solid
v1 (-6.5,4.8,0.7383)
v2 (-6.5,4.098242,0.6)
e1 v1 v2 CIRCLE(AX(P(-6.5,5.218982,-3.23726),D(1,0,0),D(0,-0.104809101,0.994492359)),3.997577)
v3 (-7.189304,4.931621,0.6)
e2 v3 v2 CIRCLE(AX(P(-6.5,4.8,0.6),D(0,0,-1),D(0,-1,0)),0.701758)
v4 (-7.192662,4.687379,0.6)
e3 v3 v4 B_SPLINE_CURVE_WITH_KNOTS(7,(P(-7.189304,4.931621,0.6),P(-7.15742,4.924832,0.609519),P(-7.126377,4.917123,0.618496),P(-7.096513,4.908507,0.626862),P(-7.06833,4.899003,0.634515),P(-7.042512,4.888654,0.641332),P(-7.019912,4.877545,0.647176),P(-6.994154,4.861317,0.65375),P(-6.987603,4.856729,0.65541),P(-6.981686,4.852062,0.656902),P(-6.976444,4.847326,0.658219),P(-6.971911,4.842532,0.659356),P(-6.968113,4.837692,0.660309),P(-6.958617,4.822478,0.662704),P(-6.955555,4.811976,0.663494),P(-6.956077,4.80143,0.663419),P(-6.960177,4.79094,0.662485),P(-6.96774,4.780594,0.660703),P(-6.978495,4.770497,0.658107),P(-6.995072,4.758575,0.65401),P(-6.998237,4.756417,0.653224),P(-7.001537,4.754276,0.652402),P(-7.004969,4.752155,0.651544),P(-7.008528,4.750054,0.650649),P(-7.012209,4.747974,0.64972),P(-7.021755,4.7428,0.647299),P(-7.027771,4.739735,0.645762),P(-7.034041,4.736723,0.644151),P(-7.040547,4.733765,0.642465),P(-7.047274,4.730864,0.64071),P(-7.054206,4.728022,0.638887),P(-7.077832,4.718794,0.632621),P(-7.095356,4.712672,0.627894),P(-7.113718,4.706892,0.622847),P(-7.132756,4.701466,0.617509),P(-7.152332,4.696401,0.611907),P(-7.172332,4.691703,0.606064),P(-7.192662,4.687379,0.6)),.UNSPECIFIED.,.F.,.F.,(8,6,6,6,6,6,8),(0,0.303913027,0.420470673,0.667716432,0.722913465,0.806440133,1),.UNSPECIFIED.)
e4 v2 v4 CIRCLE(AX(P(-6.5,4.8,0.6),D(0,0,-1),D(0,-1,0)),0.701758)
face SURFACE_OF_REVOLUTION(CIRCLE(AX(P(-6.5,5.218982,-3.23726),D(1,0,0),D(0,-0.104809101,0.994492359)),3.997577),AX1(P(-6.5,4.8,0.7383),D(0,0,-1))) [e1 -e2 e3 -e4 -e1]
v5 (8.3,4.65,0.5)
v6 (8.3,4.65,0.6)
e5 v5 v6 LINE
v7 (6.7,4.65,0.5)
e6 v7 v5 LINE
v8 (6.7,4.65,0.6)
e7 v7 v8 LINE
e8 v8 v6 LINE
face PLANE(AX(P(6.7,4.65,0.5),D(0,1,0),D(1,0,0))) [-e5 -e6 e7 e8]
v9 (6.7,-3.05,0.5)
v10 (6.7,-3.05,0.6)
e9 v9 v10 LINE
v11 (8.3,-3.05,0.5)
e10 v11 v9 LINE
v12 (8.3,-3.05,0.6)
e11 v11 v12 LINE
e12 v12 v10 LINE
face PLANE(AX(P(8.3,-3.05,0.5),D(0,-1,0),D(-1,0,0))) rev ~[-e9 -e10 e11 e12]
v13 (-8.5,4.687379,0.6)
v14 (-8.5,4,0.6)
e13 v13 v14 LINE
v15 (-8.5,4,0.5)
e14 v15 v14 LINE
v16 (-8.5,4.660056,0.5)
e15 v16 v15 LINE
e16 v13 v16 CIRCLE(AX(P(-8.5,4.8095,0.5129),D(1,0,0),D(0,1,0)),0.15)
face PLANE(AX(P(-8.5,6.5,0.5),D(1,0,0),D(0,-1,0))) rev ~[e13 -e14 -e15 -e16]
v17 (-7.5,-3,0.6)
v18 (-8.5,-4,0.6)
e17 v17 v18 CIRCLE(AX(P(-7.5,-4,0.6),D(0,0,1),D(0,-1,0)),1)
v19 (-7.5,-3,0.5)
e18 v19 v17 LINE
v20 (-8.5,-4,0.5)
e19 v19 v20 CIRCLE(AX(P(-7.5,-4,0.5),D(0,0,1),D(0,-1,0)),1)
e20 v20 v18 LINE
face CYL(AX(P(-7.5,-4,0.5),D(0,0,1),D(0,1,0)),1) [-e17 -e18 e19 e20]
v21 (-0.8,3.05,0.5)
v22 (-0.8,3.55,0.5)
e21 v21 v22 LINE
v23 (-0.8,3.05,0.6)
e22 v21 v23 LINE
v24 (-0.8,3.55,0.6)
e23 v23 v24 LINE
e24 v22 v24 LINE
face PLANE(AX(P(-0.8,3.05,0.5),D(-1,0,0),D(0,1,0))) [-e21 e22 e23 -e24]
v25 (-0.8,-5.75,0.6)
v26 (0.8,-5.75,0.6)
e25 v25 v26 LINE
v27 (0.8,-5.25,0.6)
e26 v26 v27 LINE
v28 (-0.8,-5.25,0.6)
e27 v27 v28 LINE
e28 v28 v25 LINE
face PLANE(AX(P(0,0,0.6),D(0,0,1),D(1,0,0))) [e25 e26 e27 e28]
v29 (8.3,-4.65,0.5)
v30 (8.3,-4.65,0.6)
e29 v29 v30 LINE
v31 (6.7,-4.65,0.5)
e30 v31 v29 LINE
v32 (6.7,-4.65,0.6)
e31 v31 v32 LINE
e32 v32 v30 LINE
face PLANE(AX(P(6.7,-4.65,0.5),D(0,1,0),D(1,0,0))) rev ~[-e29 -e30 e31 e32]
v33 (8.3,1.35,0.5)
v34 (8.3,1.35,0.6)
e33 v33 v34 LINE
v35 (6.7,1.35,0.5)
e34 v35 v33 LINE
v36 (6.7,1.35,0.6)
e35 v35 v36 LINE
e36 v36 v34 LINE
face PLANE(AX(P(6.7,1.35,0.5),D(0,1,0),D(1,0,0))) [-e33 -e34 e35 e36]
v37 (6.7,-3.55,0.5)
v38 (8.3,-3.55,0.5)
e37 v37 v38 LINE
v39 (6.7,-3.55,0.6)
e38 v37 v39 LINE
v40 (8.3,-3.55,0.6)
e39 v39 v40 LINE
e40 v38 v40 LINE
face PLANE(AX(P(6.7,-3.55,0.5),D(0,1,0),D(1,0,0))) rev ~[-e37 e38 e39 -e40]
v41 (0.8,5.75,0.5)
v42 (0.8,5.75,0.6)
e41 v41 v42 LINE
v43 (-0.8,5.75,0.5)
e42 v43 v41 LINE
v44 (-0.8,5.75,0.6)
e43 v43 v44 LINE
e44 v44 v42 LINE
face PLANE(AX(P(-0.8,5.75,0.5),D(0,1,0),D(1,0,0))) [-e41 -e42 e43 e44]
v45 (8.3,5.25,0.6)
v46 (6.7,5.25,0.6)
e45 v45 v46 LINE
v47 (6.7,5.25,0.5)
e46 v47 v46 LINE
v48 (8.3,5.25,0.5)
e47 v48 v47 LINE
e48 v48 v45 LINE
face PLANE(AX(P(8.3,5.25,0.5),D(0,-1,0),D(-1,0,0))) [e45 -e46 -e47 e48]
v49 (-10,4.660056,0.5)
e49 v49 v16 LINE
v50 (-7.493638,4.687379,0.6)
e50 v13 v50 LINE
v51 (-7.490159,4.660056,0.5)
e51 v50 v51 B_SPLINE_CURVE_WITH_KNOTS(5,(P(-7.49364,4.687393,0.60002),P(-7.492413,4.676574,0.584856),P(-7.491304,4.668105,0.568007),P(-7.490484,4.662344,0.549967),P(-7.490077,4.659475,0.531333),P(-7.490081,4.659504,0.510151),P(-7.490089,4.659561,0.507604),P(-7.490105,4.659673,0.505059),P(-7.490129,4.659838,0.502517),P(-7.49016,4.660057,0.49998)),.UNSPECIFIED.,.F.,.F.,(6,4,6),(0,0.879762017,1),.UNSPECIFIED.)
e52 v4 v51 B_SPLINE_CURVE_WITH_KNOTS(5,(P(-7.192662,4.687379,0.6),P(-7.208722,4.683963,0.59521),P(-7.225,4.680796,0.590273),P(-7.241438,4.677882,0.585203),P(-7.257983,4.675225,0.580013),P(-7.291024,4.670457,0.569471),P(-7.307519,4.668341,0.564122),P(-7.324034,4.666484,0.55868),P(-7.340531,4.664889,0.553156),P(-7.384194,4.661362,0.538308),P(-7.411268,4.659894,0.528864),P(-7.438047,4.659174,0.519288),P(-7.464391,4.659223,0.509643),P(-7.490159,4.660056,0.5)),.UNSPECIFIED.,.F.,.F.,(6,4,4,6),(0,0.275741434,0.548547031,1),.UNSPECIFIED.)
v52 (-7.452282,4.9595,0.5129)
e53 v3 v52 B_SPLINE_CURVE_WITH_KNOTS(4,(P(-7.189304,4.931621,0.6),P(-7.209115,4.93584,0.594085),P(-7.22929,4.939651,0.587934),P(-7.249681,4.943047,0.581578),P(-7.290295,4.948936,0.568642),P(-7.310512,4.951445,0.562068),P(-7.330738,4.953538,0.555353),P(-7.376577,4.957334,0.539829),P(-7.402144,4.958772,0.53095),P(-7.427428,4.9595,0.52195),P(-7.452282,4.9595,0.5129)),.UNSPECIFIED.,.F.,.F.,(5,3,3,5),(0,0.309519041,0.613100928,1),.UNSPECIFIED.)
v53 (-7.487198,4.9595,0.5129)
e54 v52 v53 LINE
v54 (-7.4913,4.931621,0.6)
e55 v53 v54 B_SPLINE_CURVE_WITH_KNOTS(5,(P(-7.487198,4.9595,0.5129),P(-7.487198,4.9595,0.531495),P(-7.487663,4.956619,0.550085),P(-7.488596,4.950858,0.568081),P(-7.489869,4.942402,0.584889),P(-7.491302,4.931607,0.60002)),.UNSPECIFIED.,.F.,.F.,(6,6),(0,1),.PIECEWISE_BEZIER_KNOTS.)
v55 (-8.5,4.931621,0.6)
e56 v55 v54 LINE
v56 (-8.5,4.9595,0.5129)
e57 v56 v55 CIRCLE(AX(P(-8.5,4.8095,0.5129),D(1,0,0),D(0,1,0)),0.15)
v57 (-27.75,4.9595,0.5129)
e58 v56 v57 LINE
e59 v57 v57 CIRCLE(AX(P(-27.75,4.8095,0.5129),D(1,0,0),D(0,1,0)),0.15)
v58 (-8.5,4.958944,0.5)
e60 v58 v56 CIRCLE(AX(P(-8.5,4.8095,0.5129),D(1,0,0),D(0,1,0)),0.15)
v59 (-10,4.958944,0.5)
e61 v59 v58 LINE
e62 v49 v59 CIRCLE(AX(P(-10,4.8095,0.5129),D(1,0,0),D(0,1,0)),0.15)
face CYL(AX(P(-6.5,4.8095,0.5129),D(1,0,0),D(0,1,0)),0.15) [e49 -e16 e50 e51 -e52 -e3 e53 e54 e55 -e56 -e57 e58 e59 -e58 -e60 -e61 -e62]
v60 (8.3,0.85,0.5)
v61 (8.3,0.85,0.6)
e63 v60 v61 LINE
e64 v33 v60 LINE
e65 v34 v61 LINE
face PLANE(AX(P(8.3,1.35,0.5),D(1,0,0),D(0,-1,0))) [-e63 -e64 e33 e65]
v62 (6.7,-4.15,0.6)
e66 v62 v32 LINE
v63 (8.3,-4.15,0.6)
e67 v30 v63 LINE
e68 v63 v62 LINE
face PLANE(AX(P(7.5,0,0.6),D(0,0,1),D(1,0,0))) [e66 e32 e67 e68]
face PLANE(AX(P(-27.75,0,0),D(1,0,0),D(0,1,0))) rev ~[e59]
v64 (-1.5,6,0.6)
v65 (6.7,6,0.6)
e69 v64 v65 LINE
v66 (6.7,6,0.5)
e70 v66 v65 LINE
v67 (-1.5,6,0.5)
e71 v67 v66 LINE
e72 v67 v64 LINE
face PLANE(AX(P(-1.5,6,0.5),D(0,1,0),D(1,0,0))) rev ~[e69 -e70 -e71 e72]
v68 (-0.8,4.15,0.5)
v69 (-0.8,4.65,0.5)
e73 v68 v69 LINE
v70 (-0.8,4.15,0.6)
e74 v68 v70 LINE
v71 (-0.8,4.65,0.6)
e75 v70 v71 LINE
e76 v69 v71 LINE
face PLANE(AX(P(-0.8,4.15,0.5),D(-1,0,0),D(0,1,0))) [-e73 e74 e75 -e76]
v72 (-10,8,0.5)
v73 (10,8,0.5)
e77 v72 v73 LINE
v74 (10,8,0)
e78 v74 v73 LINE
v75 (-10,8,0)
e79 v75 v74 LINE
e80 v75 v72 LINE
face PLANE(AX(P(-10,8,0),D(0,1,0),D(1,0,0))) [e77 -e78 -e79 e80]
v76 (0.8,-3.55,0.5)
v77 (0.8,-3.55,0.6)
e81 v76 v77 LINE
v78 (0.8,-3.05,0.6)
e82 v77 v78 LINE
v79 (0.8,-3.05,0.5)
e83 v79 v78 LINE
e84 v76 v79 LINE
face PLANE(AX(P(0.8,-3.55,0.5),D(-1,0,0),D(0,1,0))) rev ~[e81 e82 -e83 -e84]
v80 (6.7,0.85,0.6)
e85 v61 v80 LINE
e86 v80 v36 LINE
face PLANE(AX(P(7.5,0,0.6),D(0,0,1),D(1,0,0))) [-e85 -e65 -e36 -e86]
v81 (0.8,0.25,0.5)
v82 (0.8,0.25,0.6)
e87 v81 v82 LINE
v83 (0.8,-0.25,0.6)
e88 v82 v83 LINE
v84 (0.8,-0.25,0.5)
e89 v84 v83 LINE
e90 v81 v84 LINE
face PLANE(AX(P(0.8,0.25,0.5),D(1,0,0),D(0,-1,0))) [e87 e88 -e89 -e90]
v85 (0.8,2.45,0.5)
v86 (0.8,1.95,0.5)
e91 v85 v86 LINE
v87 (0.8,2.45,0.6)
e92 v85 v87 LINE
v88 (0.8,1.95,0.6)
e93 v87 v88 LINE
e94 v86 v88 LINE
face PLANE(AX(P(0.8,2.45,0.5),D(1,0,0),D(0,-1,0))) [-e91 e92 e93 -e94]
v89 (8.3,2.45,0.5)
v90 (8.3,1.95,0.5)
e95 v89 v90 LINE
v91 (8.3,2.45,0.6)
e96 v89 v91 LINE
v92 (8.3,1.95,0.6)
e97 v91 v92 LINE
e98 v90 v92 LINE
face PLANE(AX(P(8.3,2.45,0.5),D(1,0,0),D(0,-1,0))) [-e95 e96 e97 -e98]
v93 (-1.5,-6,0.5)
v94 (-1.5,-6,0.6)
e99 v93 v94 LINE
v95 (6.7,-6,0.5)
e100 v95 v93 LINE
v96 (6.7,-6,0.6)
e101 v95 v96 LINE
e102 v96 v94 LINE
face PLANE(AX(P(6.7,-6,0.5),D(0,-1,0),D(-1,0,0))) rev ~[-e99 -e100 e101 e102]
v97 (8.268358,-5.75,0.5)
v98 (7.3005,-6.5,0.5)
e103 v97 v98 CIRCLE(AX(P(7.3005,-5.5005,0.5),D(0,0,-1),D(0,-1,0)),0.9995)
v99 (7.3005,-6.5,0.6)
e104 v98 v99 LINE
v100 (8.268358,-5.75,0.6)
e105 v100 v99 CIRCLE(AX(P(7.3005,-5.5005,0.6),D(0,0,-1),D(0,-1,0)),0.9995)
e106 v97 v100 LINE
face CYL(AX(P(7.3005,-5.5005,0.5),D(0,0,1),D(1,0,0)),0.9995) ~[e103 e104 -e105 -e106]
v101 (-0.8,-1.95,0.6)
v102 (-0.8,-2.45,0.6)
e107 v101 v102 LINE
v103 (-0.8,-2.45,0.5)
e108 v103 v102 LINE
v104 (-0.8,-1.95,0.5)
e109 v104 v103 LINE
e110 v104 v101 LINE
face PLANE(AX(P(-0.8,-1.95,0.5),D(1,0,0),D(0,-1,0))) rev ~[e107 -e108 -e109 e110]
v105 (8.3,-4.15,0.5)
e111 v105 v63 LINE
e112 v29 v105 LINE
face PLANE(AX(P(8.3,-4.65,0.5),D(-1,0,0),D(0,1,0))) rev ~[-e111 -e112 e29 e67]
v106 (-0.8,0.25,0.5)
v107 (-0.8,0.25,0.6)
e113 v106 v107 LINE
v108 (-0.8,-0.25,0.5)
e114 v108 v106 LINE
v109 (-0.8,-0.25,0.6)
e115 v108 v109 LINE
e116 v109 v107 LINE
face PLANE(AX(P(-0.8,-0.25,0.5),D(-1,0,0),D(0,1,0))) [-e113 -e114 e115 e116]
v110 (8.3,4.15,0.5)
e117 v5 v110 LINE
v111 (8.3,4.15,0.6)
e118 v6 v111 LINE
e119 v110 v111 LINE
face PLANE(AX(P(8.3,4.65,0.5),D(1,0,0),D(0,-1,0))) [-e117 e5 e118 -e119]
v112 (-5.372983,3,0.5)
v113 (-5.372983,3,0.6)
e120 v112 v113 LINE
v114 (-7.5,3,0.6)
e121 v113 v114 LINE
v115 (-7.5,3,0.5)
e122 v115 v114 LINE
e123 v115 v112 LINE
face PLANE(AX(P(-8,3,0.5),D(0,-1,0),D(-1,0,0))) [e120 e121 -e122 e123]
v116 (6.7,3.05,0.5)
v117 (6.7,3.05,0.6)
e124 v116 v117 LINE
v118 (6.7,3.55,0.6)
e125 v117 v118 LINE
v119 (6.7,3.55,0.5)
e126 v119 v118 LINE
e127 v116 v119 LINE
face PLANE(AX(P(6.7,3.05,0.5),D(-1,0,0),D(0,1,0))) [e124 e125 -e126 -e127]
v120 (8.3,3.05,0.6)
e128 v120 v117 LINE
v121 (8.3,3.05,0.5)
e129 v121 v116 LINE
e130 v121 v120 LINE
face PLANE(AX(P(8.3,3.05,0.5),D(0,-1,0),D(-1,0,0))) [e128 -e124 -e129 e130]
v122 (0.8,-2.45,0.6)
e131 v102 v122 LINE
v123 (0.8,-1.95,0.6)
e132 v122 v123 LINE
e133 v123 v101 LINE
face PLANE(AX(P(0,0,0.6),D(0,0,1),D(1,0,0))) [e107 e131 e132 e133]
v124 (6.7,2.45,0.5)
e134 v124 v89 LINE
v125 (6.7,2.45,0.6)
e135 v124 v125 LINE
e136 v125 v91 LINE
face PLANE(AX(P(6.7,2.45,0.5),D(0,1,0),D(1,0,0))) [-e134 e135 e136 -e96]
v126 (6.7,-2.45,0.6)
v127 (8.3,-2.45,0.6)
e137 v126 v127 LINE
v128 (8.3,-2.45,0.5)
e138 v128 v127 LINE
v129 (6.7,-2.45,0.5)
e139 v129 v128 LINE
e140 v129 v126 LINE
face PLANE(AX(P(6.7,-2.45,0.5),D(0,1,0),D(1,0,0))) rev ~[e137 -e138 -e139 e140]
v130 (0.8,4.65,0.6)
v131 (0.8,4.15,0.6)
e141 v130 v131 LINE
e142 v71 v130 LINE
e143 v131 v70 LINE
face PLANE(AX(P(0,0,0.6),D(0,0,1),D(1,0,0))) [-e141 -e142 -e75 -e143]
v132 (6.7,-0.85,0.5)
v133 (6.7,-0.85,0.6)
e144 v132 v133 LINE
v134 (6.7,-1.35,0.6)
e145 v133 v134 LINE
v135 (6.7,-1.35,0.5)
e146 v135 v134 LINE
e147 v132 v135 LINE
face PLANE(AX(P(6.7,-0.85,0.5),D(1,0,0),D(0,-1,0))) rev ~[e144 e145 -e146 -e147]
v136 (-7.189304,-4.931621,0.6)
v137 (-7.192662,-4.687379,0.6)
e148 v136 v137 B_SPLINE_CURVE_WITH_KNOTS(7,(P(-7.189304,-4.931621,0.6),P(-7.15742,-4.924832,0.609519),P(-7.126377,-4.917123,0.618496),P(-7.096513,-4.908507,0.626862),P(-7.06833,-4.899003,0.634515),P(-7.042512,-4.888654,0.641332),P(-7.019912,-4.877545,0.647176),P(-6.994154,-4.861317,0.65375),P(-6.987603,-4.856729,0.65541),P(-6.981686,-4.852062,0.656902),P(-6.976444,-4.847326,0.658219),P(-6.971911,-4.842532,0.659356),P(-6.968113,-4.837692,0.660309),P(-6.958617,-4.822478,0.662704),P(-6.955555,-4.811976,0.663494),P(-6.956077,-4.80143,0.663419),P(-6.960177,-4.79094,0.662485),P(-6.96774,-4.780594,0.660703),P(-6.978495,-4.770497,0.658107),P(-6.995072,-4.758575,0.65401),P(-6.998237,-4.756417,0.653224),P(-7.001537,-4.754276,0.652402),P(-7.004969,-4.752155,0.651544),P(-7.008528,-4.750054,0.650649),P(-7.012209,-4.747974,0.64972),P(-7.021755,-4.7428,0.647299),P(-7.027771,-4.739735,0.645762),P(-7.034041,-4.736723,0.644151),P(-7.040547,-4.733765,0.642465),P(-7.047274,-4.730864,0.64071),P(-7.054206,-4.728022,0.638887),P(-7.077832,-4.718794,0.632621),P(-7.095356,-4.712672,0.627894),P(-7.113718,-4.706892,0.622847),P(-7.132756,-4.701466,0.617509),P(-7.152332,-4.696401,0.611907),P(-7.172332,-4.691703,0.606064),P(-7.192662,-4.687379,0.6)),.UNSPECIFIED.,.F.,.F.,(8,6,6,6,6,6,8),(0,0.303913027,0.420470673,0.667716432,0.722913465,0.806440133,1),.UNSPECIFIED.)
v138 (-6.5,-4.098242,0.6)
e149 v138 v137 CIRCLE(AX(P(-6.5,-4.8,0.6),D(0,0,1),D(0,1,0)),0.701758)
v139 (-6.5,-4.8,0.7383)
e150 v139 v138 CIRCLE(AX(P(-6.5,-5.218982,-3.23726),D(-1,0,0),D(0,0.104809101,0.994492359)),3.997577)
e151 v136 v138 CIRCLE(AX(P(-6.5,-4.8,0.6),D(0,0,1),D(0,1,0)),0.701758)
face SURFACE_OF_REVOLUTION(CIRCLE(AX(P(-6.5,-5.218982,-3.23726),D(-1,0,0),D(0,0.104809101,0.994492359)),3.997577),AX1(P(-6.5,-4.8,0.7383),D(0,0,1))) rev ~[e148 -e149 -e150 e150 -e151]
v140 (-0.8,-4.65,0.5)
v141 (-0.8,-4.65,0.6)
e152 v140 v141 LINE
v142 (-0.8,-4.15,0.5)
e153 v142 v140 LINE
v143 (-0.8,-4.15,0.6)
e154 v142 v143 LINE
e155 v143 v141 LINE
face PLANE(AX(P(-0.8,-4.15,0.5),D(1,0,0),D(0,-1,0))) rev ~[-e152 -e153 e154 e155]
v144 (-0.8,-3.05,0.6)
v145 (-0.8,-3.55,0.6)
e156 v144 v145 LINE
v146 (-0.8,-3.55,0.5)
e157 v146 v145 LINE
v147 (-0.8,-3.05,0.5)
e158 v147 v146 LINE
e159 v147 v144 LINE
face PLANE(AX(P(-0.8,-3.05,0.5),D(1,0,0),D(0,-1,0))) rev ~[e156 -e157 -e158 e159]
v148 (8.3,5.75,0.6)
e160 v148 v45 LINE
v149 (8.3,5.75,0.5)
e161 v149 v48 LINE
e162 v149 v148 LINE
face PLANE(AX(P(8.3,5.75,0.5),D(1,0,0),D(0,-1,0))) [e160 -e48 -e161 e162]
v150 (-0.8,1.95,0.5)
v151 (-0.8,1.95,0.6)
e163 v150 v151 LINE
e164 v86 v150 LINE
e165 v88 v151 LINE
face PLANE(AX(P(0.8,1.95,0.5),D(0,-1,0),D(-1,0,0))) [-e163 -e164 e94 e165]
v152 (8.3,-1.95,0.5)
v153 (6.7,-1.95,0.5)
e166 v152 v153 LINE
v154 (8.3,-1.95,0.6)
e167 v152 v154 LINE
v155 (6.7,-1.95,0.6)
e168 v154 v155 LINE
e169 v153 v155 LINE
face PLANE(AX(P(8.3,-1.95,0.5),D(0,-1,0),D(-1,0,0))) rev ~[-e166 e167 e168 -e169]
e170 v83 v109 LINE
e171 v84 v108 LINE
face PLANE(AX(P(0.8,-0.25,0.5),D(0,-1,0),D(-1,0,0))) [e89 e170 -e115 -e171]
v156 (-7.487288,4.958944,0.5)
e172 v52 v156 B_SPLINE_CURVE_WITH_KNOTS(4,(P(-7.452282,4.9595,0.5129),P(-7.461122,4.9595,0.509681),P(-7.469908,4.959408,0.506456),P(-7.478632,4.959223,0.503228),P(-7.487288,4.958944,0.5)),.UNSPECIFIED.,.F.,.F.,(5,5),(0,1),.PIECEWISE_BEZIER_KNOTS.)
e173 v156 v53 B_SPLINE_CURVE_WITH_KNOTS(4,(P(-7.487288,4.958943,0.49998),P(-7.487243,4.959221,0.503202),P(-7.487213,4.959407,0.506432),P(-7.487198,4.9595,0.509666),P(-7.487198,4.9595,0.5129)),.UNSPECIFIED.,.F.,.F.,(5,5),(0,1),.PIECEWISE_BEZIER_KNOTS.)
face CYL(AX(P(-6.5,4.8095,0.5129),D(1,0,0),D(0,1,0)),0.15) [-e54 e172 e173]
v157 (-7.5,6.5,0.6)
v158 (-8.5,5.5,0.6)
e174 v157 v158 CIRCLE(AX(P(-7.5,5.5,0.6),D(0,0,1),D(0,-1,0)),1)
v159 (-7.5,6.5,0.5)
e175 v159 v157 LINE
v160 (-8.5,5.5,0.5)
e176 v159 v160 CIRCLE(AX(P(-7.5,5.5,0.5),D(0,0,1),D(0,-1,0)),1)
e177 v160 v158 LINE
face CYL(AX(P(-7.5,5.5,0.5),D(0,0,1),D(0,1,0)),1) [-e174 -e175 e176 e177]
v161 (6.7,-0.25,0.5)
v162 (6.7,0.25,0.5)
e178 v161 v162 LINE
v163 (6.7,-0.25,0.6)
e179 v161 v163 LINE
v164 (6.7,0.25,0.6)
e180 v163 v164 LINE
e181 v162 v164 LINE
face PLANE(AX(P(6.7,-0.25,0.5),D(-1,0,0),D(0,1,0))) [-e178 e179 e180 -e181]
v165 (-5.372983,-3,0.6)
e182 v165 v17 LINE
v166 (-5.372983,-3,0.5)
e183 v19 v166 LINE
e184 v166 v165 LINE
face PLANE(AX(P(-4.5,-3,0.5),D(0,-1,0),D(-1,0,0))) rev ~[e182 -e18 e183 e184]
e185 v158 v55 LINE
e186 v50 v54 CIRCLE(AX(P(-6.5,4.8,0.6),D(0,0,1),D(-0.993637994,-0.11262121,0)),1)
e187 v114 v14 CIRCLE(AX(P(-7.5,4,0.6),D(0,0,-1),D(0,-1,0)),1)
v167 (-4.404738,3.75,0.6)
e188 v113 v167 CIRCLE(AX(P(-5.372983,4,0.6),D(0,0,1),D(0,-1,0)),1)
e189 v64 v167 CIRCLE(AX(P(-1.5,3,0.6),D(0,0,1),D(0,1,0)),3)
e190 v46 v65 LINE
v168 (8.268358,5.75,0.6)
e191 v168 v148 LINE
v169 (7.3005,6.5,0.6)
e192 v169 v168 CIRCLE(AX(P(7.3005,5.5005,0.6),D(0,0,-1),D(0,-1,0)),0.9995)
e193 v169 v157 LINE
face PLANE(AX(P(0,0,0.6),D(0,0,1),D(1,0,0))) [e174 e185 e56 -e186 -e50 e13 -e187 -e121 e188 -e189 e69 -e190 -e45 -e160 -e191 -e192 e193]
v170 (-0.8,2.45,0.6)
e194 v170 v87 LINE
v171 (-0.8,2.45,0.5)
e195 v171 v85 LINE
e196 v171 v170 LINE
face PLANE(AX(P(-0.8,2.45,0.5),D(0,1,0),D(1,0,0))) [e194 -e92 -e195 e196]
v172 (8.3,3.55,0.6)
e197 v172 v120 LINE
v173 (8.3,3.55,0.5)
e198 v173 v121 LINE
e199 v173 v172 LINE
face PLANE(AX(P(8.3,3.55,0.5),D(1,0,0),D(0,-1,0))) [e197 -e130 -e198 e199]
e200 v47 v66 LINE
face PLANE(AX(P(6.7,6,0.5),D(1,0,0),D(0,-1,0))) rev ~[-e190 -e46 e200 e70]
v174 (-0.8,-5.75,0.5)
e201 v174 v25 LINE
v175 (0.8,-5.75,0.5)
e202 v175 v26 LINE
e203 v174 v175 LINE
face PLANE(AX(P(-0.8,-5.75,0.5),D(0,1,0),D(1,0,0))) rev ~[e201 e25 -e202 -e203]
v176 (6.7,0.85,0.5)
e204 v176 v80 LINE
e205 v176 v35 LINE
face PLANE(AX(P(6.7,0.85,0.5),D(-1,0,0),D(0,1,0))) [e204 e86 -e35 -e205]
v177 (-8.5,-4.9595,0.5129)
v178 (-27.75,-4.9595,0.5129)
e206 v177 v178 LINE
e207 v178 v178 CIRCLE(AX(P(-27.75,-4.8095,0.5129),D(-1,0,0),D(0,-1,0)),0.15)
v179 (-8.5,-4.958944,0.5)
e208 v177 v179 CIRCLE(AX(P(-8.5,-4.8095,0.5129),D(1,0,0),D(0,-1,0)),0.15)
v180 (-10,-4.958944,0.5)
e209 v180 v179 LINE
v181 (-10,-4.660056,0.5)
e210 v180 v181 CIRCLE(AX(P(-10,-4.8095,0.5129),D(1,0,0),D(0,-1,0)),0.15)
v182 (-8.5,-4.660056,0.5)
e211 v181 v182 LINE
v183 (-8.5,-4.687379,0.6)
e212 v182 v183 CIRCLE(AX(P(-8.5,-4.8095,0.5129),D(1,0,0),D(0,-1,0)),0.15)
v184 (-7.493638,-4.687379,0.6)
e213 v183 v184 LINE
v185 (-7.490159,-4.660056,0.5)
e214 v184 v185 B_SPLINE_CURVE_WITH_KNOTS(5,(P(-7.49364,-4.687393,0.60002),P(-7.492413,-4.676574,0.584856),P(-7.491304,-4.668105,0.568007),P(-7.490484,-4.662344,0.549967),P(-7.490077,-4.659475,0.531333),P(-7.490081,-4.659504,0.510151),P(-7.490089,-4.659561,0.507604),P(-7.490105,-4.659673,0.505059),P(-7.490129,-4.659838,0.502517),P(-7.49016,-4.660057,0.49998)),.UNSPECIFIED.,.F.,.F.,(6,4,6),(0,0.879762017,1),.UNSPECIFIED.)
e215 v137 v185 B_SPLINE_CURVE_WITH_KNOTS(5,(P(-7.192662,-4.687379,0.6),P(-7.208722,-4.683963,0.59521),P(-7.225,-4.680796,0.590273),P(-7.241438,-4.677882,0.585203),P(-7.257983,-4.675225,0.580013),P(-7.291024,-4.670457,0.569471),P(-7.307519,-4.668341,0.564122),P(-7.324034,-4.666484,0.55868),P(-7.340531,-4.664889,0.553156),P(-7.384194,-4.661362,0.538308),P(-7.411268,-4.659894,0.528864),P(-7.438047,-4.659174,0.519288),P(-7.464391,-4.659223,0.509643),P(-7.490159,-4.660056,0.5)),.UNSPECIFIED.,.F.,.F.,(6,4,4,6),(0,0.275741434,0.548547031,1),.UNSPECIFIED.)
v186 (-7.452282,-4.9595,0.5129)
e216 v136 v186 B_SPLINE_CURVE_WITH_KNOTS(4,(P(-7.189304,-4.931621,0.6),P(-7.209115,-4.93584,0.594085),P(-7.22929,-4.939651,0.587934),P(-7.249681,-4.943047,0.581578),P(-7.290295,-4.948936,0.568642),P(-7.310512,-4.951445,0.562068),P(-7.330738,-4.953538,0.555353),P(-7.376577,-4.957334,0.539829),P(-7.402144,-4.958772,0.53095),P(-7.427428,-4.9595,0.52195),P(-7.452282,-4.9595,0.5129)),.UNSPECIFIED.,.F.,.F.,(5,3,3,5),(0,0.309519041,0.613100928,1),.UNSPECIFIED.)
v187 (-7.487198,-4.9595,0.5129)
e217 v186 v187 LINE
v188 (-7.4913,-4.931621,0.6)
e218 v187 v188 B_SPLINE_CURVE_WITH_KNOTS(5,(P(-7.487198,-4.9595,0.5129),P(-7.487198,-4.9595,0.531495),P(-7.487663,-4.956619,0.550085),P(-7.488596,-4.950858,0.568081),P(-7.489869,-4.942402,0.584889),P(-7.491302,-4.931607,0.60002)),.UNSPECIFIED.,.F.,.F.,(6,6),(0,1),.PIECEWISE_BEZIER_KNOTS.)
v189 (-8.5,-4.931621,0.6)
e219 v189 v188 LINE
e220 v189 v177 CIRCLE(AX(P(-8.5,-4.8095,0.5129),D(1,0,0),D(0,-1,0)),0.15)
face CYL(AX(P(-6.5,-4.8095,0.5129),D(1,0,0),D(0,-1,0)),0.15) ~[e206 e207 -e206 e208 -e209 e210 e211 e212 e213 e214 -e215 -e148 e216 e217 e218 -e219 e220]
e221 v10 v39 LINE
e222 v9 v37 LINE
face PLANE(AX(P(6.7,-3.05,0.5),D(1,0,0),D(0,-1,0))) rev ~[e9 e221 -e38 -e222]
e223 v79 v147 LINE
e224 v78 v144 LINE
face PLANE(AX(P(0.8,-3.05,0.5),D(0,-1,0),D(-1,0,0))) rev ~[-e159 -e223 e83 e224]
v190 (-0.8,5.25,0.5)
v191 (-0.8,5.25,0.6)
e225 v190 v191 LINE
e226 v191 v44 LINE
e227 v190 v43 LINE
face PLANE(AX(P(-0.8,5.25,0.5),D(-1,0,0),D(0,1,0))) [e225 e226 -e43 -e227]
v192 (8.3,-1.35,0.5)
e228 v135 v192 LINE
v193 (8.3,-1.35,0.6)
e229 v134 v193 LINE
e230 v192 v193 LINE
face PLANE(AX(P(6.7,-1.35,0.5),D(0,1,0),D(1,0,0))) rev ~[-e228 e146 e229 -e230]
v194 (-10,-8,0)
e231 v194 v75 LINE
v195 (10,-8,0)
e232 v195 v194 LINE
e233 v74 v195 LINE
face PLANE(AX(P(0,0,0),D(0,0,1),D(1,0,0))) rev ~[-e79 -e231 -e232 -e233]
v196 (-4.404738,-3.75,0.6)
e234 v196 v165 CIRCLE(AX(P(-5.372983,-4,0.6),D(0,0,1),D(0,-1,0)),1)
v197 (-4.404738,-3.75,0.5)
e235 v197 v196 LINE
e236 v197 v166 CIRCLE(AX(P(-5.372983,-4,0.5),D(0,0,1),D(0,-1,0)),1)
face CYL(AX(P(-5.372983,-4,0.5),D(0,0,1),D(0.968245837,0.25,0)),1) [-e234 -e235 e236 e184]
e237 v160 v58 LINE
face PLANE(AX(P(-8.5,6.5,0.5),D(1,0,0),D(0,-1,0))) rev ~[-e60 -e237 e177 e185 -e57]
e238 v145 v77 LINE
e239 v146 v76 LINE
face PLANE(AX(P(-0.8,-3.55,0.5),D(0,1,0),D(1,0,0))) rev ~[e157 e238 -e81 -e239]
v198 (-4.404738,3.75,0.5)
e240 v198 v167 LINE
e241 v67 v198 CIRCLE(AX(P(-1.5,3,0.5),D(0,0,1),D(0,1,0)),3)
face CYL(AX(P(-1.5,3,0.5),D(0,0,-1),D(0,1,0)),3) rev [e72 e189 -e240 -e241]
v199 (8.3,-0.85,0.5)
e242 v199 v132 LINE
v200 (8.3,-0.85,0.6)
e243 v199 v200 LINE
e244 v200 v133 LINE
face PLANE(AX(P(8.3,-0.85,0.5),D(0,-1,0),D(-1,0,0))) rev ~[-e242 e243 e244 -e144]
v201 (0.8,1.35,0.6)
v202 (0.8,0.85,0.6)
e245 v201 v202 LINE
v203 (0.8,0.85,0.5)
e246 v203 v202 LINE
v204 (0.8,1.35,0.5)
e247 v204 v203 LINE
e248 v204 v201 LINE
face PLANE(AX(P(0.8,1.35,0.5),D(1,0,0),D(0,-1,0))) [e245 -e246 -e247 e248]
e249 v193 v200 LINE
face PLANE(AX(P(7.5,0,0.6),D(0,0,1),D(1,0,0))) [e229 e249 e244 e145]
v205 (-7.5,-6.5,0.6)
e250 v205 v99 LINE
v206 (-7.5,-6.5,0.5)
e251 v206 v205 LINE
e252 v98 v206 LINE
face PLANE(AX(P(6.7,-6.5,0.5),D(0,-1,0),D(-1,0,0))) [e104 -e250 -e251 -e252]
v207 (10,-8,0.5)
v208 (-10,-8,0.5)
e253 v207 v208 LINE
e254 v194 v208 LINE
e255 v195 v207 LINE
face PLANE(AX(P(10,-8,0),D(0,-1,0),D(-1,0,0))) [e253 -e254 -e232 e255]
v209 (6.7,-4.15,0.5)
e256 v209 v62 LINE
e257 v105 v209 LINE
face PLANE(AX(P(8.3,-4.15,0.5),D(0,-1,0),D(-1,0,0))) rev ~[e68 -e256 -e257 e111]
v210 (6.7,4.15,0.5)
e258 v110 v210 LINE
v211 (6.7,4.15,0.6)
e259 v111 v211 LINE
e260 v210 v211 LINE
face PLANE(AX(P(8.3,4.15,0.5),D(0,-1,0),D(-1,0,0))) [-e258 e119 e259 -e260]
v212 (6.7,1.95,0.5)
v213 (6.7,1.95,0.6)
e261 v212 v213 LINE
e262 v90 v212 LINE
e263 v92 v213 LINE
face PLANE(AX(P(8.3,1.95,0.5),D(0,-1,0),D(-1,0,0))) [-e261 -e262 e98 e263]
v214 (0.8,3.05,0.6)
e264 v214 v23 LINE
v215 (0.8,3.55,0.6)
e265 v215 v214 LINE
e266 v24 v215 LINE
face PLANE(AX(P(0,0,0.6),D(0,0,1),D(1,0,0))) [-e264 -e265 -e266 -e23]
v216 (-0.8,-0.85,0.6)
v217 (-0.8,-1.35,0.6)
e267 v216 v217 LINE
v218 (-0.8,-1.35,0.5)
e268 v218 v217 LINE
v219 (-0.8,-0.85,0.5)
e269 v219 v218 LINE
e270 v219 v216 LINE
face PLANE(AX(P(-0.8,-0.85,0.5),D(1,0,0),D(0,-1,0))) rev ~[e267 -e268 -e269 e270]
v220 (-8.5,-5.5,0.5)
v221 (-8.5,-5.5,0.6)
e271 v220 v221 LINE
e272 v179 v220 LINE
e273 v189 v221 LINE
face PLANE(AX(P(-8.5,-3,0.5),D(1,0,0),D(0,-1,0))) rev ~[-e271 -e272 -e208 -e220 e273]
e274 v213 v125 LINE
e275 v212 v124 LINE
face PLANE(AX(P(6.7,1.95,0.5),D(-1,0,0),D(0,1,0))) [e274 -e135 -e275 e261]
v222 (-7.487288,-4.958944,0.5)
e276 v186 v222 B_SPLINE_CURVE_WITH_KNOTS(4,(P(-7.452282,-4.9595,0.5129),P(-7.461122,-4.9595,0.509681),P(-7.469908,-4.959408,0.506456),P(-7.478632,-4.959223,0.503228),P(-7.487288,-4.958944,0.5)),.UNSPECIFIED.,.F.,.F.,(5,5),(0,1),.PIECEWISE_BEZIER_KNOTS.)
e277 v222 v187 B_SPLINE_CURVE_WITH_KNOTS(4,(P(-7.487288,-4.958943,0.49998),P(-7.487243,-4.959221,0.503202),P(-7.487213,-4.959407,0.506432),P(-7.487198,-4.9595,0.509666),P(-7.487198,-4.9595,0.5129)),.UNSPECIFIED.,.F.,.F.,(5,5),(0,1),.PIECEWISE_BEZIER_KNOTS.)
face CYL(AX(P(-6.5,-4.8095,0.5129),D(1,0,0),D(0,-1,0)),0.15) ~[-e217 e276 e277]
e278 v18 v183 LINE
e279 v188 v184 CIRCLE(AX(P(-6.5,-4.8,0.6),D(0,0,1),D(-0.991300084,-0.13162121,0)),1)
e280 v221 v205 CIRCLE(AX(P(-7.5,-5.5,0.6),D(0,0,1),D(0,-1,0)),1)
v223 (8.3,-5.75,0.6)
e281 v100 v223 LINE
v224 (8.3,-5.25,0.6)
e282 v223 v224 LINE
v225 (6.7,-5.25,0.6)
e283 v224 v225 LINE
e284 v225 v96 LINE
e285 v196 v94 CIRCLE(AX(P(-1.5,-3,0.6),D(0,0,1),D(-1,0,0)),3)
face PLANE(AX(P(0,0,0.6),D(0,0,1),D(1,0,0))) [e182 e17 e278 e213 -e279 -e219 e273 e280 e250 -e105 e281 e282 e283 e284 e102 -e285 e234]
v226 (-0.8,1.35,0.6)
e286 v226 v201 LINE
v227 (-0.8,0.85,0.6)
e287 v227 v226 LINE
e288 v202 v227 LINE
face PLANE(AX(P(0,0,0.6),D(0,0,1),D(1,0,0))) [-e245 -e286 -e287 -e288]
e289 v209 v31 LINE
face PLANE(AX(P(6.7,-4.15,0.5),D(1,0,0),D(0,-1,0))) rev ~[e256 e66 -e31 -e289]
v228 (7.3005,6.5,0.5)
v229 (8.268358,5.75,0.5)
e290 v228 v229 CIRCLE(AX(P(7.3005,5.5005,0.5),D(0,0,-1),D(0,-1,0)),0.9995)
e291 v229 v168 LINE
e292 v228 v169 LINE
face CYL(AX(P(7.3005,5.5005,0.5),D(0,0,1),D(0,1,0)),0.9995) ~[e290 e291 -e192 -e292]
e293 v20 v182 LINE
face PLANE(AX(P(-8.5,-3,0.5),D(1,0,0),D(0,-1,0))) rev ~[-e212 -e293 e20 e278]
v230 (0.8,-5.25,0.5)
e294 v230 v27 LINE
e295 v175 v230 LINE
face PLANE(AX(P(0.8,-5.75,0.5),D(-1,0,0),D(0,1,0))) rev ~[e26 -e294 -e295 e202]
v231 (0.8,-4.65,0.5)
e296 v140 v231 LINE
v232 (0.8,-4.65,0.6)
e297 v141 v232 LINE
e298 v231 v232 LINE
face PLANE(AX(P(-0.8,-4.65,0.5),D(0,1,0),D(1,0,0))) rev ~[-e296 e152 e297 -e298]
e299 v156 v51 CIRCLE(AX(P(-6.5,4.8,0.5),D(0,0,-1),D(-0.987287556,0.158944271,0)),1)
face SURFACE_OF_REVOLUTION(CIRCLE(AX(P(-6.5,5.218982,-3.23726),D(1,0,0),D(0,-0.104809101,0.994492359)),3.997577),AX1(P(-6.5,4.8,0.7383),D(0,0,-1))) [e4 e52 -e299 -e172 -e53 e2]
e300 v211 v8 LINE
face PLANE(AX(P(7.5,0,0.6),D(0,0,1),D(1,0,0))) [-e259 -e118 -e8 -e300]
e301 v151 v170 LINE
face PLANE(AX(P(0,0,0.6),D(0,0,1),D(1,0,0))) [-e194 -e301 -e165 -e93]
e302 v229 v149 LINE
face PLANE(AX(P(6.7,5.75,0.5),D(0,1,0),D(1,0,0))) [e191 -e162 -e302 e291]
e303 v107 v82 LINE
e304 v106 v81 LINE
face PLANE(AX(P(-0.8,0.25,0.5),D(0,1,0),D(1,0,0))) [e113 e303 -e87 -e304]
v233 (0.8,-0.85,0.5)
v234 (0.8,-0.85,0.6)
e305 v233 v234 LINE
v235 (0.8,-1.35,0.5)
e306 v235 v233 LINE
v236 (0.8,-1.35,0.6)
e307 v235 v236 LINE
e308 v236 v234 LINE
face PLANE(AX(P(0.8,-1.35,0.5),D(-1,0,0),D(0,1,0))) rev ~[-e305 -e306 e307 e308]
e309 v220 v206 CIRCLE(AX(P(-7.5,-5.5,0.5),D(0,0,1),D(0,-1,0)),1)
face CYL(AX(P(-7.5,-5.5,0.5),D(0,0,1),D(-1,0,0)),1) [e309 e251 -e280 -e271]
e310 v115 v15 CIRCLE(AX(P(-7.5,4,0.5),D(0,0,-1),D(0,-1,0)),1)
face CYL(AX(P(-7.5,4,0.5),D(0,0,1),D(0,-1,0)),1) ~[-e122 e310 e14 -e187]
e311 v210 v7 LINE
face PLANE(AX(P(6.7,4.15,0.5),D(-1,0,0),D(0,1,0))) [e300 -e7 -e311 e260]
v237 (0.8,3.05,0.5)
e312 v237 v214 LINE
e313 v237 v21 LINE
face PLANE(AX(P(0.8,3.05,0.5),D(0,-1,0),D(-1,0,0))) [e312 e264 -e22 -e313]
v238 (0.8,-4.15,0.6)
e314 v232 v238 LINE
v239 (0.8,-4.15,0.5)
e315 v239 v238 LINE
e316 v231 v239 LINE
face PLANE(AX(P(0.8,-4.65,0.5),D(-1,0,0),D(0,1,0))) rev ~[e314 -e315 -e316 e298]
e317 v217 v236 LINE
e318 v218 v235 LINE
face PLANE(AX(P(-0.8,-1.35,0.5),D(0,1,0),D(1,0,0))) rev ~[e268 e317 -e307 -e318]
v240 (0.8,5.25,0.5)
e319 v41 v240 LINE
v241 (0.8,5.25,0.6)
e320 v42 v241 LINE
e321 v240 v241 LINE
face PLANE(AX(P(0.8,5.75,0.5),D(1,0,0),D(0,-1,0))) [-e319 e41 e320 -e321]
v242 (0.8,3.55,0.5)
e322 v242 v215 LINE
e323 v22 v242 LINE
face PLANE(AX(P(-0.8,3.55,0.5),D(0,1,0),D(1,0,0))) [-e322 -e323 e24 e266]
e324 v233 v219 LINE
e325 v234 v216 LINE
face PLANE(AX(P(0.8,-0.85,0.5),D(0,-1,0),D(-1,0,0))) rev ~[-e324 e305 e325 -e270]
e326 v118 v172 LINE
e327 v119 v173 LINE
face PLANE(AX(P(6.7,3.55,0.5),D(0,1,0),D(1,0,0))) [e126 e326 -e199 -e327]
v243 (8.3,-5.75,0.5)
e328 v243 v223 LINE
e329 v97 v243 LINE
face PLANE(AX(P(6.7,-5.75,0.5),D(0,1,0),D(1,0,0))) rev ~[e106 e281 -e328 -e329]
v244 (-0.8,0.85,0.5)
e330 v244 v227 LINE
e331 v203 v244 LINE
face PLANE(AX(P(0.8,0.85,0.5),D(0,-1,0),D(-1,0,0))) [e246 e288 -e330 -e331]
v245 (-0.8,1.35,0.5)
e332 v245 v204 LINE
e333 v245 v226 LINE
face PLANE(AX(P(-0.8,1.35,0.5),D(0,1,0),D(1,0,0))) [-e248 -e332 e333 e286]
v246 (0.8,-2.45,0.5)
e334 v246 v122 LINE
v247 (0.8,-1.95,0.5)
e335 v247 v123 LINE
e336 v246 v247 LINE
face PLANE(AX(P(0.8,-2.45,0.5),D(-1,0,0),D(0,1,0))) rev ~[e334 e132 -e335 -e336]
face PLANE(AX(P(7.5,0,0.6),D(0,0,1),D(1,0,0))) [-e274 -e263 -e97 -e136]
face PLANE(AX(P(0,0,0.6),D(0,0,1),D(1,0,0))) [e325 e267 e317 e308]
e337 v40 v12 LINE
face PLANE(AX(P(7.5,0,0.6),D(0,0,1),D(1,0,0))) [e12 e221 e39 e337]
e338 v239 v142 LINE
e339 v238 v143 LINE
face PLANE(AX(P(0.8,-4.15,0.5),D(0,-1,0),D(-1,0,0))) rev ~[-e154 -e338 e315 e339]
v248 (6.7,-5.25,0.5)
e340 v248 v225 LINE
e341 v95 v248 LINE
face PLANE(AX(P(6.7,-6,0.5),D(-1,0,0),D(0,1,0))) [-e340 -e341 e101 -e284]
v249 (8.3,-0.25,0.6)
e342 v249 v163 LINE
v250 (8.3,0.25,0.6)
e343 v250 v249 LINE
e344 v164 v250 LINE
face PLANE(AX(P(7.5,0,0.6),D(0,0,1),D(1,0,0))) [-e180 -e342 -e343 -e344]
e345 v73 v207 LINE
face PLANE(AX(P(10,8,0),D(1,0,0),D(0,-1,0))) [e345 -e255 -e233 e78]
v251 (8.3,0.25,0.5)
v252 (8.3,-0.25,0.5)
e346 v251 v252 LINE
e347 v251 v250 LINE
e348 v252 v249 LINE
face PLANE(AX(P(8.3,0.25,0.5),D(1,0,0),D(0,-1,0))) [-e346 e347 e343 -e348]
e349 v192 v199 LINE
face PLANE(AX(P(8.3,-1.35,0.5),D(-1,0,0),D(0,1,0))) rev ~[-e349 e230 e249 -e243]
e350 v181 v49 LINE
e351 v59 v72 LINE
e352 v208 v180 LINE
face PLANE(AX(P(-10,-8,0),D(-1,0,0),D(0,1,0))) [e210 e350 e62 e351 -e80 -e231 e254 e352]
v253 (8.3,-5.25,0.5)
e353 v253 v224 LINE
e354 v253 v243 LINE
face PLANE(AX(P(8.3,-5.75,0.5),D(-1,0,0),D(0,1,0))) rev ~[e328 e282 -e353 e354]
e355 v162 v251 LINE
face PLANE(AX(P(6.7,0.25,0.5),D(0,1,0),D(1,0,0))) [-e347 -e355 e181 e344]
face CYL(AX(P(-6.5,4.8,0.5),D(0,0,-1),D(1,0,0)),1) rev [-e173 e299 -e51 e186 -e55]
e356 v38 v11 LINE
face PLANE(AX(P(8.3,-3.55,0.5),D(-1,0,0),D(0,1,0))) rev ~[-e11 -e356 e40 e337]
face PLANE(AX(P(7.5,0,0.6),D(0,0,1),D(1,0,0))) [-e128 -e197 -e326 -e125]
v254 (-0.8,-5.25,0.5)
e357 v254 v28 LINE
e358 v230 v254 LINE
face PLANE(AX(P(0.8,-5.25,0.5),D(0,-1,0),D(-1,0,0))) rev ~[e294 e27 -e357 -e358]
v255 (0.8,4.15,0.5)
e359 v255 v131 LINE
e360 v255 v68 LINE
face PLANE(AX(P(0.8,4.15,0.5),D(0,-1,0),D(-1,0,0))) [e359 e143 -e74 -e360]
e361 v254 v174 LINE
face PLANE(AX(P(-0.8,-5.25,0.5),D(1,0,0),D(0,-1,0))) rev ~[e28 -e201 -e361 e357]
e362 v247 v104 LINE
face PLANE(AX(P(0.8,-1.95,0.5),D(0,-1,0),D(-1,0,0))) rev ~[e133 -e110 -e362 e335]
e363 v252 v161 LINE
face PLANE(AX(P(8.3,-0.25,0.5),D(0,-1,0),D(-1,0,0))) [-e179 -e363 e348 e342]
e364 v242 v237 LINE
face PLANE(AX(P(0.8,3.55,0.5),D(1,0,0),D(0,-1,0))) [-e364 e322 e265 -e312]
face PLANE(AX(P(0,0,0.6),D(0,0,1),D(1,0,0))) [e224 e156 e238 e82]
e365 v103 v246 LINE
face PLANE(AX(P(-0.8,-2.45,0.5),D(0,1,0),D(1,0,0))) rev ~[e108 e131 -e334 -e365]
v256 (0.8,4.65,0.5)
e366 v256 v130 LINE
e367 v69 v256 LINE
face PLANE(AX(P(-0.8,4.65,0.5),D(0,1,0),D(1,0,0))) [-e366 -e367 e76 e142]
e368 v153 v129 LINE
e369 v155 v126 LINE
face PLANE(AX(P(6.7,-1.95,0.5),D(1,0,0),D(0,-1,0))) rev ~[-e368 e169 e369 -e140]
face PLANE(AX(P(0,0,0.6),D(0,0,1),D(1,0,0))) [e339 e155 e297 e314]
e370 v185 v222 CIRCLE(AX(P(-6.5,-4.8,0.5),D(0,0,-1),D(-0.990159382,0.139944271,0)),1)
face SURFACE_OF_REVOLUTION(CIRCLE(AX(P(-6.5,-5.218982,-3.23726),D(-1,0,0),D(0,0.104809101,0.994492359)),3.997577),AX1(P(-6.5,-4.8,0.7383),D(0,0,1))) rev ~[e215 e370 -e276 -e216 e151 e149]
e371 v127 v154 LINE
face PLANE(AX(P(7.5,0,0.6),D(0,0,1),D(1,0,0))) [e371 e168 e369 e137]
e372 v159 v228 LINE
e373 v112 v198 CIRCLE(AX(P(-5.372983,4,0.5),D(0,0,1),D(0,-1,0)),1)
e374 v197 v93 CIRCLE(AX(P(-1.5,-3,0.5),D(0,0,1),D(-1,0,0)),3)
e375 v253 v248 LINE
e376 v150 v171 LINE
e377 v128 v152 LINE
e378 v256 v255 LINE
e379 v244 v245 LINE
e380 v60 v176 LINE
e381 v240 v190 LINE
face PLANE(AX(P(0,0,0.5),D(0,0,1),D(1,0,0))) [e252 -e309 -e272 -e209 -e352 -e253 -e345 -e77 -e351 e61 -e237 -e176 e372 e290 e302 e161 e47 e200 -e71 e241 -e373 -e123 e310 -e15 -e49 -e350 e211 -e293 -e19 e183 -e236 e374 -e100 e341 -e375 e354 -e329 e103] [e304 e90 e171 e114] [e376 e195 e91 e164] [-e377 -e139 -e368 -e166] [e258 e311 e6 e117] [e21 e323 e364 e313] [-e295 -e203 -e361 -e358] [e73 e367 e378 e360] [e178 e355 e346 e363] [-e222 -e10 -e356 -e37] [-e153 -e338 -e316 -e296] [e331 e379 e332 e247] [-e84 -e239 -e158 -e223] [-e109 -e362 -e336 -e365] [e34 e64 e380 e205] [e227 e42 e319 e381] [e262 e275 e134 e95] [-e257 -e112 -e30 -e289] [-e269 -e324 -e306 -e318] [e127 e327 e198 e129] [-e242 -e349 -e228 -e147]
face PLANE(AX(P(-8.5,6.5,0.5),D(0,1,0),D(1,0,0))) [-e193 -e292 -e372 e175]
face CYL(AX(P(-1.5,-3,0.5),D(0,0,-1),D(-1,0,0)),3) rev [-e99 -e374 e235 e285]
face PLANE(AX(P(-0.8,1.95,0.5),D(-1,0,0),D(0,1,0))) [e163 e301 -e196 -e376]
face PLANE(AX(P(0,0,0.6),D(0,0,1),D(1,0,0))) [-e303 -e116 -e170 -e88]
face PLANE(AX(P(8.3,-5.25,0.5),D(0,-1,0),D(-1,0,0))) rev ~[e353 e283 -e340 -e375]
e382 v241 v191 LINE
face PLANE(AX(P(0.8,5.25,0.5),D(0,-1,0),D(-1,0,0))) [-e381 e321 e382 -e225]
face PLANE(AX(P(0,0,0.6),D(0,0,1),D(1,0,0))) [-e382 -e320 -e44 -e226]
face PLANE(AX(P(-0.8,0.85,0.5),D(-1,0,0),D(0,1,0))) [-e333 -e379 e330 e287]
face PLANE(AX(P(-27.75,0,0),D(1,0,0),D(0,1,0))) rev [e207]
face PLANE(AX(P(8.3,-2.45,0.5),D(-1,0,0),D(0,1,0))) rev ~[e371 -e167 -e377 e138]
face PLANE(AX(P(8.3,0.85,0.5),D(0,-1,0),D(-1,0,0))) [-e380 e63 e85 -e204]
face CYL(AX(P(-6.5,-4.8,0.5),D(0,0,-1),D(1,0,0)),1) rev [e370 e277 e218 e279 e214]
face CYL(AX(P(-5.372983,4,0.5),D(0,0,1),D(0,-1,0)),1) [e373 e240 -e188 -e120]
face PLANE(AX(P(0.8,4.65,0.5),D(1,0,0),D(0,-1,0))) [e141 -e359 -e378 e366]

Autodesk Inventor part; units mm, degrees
ref_plane "XZ Plane" through (0, 0, 0) normal (0, 1, 0) x (-1, 0, 0)
ref_plane "XY Plane" through (0, 0, 0) normal (0, 0, 1) x (1, 0, 0)
sketch "草圖1" plane through (0, 0, 0) normal (0, 0, 1) x (1, 0, 0)
  line L0 (-10, 8) -> (10, 8)
  line L1 (10, 8) -> (10, -8)
  line L2 (10, -8) -> (-10, -8)
  line L3 (-10, -8) -> (-10, 8)
  line L4 (-14, 0) -> (14, 0) construction
  line L5 (0, -11.2) -> (0, 11.2) construction
  point P0 (0, 0)
  point P1 (0, 8)
  point P2 (10, 0)
  dimension "d0" = 16
  dimension "d1" = 20
extrude "擠出1" add sketch "草圖1" along normal blind 0.5
sketch "草圖2" plane through (0, 0, 0.5) normal (0, 0, 1) x (1, 0, 0)
  line L0 (-8, 6) -> (8, 6)
  line L1 (8, -6) -> (-8, -6)
  line L2 (-8, 6) -> (-4.5, 6)
  line L3 (-4.5, 6) -> (-4.5, 3)
  line L4 (-4.5, 3) -> (-8, 3)
  line L5 (-8, 3) -> (-8, 6)
  line L6 (-8, -6) -> (-4.5, -6)
  line L7 (-4.5, -6) -> (-4.5, -3)
  line L8 (-4.5, -3) -> (-8, -3)
  line L9 (-8, -3) -> (-8, -6)
  arc A0 (-1.5, 6) -> (-4.5, 3) centre (-1.5, 3) ccw
  arc A1 (-4.5, -3) -> (-1.5, -6) centre (-1.5, -3) ccw
  line L10 (-14, 0) -> (14, 0) construction
  line L11 (0, -11.2) -> (0, 11.2) construction
  line L12 (-8.5, 6.5) -> (8.3, 6.5)
  line L13 (8.3, -6.5) -> (-8.5, -6.5)
  line L14 (-8, 3) -> (-8.5, 3)
  line L15 (-8, -3) -> (-8.5, -3)
  line L16 (-8, -6) -> (-8, -3)
  line L17 (-8, 3) -> (-8, 6)
  line L18 (-8.5, 6.5) -> (-8.5, 3)
  line L19 (-8.5, -3) -> (-8.5, -6.5)
  line L20 (8.3, 6.5) -> (6.7, 6.5)
  line L21 (6.7, 6.5) -> (6.7, 5.5)
  line L22 (6.7, 5.5) -> (8.3, 5.5)
  line L23 (8.3, 5.5) -> (8.3, 6.5)
  line L24 (8.3, -6.5) -> (6.7, -6.5)
  line L25 (6.7, -6.5) -> (6.7, -5.5)
  line L26 (6.7, -5.5) -> (8.3, -5.5)
  line L27 (8.3, -5.5) -> (8.3, -6.5)
  line L28 (8.3, 6.5) -> (8.3, 5.5)
  line L29 (8.3, -5.5) -> (8.3, -6.5)
  line L30 (8.3, 6) -> (8.3, 5.5)
  line L31 (8.3, -5.5) -> (8.3, -6)
  line L32 (8, 6) -> (8, 5.5)
  line L33 (8, -5.5) -> (8, -6)
  line L34 (8, -6) -> (8, -5.5)
  line L35 (8, 5.5) -> (8, 6)
  point P0 (0, 0)
  point P1 (0, 6)
  point P2 (6.7, 6)
  point P3 (6.7, -6)
  dimension "d5" = 12
  dimension "d6" = 3
  dimension "d7" = 3
  dimension "d8" = 3.5
  dimension "d9" = 0.5
  dimension "d41" = 1
  dimension "d42" = 1
  dimension "d43" = 1.6
  dimension "d44" = 1.6
extrude "擠出2" add sketch "草圖2" along normal blind 0.1
fillet "圓角1" radius 1 6 edges at (-4.5, 3, 0.55) (-4.5, -3, 0.55) (-8.5, -3, 0.55) (-8.5, 3, 0.55) (-8.5, 6.5, 0.55) (-8.5, -6.5, 0.55)
fillet "圓角2" radius 1 2 edges at (8.3, 6.5, 0.55) (8.3, -6.5, 0.55)
sketch "草圖3" plane through (0, 0, 0.5) normal (0, 0, 1) x (1, 0, 0)
  line L0 (0, -11.2) -> (0, 11.2) construction
  line L1 (-14, 0) -> (14, 0) construction
  line L2 (-0.8, 5.75) -> (0.8, 5.75)
  line L3 (0.8, 5.75) -> (0.8, 5.25)
  line L4 (0.8, 5.25) -> (-0.8, 5.25)
  line L5 (-0.8, 5.25) -> (-0.8, 5.75)
  line L6 (-0.8, 4.65) -> (0.8, 4.65)
  line L7 (0.8, 4.65) -> (0.8, 4.15)
  line L8 (0.8, 4.15) -> (-0.8, 4.15)
  line L9 (-0.8, 4.15) -> (-0.8, 4.65)
  line L10 (-0.8, 3.55) -> (0.8, 3.55)
  line L11 (0.8, 3.55) -> (0.8, 3.05)
  line L12 (0.8, 3.05) -> (-0.8, 3.05)
  line L13 (-0.8, 3.05) -> (-0.8, 3.55)
  line L14 (-0.8, 2.45) -> (0.8, 2.45)
  line L15 (0.8, 2.45) -> (0.8, 1.95)
  line L16 (0.8, 1.95) -> (-0.8, 1.95)
  line L17 (-0.8, 1.95) -> (-0.8, 2.45)
  line L18 (-0.8, 1.35) -> (0.8, 1.35)
  line L19 (0.8, 1.35) -> (0.8, 0.85)
  line L20 (0.8, 0.85) -> (-0.8, 0.85)
  line L21 (-0.8, 0.85) -> (-0.8, 1.35)
  line L22 (-0.8, 0.25) -> (0.8, 0.25)
  line L23 (0.8, 0.25) -> (0.8, -0.25)
  line L24 (0.8, -0.25) -> (-0.8, -0.25)
  line L25 (-0.8, -0.25) -> (-0.8, 0.25)
  line L26 (-0.8, -5.75) -> (0.8, -5.75)
  line L27 (0.8, -5.75) -> (0.8, -5.25)
  line L28 (0.8, -5.25) -> (-0.8, -5.25)
  line L29 (-0.8, -5.25) -> (-0.8, -5.75)
  line L30 (-0.8, -4.65) -> (0.8, -4.65)
  line L31 (0.8, -4.65) -> (0.8, -4.15)
  line L32 (0.8, -4.15) -> (-0.8, -4.15)
  line L33 (-0.8, -4.15) -> (-0.8, -4.65)
  line L34 (-0.8, -3.55) -> (0.8, -3.55)
  line L35 (0.8, -3.55) -> (0.8, -3.05)
  line L36 (0.8, -3.05) -> (-0.8, -3.05)
  line L37 (-0.8, -3.05) -> (-0.8, -3.55)
  line L38 (-0.8, -2.45) -> (0.8, -2.45)
  line L39 (0.8, -2.45) -> (0.8, -1.95)
  line L40 (0.8, -1.95) -> (-0.8, -1.95)
  line L41 (-0.8, -1.95) -> (-0.8, -2.45)
  line L42 (-0.8, -1.35) -> (0.8, -1.35)
  line L43 (0.8, -1.35) -> (0.8, -0.85)
  line L44 (0.8, -0.85) -> (-0.8, -0.85)
  line L45 (-0.8, -0.85) -> (-0.8, -1.35)
  point P0 (0, 0)
  point P1 (0, 0.85)
  point P2 (0, -0.25)
  point P3 (0.8, 0)
  point P4 (0, -0.85)
  dimension "d15" = 0.5
  dimension "d16" = 0.5
  dimension "d17" = 0.5
  dimension "d18" = 0.5
  dimension "d19" = 0.5
  dimension "d20" = 1.6
  dimension "d21" = 0.5
  dimension "d22" = 1.6
  dimension "d23" = 0.6
  dimension "d24" = 0.6
  dimension "d25" = 0.6
  dimension "d26" = 0.6
  dimension "d27" = 0.6
extrude "擠出3" add sketch "草圖3" along normal blind 0.1
sketch "草圖5" plane through (0, 0, 0.5) normal (0, 0, 1) x (1, 0, 0)
  circle A0 centre (-6.5, 4.8) radius 1
  line L0 (0, -11.2) -> (0, 11.2) construction
  line L1 (-14, 0) -> (14, 0) construction
  circle A1 centre (-6.5, -4.8) radius 1
  point P0 (0, 0)
  dimension "d30" = 2
  dimension "d31" = 6.5
  dimension "d32" = 4.8
extrude "擠出4" cut sketch "草圖5" along normal blind 1.65
ref_plane "工作平面1" through (-6.5, 0, 0) normal (1, 0, 0) x (0, 1, 0)
sketch "草圖6" plane through (-6.5, 0, 0) normal (1, 0, 0) x (0, 1, 0)
  line L0 (3.8, 0.6) -> (5.8, 0.6) projected
  line L1 (5.8, 0.5) -> (3.8, 0.5) projected
  arc A0 (4.8, 0.7383) -> (3.8, 0.5) centre (5.2194, -3.2397) ccw
  line L2 (4.8, 0.7383) -> (4.8, 0.5)
  line L3 (3.8, 0.5) -> (4.8, 0.5)
revolve "迴轉1" add sketch "草圖6" angle 360 about axis through (-6.5, 4.8, 0.7383) along (0, 0, -1)
mirror "鏡射1" about plane through (0, 0, 0) normal (0, 1, 0) of "迴轉1"
sketch "草圖7" plane through (-6.5, 0, 0) normal (1, 0, 0) x (0, 1, 0)
  circle A0 centre (4.8095, 0.5129) radius 0.15
  dimension "d38" = 0.3
extrude "擠出5" add sketch "草圖7" against normal blind 21.25
mirror "鏡射2" about plane through (0, 0, 0) normal (0, 1, 0) of "擠出5"
pattern_linear "矩形陣列1" count 2 spacing 7.5 along (1, 0, 0) of "擠出3"
properties part number "應變規"
